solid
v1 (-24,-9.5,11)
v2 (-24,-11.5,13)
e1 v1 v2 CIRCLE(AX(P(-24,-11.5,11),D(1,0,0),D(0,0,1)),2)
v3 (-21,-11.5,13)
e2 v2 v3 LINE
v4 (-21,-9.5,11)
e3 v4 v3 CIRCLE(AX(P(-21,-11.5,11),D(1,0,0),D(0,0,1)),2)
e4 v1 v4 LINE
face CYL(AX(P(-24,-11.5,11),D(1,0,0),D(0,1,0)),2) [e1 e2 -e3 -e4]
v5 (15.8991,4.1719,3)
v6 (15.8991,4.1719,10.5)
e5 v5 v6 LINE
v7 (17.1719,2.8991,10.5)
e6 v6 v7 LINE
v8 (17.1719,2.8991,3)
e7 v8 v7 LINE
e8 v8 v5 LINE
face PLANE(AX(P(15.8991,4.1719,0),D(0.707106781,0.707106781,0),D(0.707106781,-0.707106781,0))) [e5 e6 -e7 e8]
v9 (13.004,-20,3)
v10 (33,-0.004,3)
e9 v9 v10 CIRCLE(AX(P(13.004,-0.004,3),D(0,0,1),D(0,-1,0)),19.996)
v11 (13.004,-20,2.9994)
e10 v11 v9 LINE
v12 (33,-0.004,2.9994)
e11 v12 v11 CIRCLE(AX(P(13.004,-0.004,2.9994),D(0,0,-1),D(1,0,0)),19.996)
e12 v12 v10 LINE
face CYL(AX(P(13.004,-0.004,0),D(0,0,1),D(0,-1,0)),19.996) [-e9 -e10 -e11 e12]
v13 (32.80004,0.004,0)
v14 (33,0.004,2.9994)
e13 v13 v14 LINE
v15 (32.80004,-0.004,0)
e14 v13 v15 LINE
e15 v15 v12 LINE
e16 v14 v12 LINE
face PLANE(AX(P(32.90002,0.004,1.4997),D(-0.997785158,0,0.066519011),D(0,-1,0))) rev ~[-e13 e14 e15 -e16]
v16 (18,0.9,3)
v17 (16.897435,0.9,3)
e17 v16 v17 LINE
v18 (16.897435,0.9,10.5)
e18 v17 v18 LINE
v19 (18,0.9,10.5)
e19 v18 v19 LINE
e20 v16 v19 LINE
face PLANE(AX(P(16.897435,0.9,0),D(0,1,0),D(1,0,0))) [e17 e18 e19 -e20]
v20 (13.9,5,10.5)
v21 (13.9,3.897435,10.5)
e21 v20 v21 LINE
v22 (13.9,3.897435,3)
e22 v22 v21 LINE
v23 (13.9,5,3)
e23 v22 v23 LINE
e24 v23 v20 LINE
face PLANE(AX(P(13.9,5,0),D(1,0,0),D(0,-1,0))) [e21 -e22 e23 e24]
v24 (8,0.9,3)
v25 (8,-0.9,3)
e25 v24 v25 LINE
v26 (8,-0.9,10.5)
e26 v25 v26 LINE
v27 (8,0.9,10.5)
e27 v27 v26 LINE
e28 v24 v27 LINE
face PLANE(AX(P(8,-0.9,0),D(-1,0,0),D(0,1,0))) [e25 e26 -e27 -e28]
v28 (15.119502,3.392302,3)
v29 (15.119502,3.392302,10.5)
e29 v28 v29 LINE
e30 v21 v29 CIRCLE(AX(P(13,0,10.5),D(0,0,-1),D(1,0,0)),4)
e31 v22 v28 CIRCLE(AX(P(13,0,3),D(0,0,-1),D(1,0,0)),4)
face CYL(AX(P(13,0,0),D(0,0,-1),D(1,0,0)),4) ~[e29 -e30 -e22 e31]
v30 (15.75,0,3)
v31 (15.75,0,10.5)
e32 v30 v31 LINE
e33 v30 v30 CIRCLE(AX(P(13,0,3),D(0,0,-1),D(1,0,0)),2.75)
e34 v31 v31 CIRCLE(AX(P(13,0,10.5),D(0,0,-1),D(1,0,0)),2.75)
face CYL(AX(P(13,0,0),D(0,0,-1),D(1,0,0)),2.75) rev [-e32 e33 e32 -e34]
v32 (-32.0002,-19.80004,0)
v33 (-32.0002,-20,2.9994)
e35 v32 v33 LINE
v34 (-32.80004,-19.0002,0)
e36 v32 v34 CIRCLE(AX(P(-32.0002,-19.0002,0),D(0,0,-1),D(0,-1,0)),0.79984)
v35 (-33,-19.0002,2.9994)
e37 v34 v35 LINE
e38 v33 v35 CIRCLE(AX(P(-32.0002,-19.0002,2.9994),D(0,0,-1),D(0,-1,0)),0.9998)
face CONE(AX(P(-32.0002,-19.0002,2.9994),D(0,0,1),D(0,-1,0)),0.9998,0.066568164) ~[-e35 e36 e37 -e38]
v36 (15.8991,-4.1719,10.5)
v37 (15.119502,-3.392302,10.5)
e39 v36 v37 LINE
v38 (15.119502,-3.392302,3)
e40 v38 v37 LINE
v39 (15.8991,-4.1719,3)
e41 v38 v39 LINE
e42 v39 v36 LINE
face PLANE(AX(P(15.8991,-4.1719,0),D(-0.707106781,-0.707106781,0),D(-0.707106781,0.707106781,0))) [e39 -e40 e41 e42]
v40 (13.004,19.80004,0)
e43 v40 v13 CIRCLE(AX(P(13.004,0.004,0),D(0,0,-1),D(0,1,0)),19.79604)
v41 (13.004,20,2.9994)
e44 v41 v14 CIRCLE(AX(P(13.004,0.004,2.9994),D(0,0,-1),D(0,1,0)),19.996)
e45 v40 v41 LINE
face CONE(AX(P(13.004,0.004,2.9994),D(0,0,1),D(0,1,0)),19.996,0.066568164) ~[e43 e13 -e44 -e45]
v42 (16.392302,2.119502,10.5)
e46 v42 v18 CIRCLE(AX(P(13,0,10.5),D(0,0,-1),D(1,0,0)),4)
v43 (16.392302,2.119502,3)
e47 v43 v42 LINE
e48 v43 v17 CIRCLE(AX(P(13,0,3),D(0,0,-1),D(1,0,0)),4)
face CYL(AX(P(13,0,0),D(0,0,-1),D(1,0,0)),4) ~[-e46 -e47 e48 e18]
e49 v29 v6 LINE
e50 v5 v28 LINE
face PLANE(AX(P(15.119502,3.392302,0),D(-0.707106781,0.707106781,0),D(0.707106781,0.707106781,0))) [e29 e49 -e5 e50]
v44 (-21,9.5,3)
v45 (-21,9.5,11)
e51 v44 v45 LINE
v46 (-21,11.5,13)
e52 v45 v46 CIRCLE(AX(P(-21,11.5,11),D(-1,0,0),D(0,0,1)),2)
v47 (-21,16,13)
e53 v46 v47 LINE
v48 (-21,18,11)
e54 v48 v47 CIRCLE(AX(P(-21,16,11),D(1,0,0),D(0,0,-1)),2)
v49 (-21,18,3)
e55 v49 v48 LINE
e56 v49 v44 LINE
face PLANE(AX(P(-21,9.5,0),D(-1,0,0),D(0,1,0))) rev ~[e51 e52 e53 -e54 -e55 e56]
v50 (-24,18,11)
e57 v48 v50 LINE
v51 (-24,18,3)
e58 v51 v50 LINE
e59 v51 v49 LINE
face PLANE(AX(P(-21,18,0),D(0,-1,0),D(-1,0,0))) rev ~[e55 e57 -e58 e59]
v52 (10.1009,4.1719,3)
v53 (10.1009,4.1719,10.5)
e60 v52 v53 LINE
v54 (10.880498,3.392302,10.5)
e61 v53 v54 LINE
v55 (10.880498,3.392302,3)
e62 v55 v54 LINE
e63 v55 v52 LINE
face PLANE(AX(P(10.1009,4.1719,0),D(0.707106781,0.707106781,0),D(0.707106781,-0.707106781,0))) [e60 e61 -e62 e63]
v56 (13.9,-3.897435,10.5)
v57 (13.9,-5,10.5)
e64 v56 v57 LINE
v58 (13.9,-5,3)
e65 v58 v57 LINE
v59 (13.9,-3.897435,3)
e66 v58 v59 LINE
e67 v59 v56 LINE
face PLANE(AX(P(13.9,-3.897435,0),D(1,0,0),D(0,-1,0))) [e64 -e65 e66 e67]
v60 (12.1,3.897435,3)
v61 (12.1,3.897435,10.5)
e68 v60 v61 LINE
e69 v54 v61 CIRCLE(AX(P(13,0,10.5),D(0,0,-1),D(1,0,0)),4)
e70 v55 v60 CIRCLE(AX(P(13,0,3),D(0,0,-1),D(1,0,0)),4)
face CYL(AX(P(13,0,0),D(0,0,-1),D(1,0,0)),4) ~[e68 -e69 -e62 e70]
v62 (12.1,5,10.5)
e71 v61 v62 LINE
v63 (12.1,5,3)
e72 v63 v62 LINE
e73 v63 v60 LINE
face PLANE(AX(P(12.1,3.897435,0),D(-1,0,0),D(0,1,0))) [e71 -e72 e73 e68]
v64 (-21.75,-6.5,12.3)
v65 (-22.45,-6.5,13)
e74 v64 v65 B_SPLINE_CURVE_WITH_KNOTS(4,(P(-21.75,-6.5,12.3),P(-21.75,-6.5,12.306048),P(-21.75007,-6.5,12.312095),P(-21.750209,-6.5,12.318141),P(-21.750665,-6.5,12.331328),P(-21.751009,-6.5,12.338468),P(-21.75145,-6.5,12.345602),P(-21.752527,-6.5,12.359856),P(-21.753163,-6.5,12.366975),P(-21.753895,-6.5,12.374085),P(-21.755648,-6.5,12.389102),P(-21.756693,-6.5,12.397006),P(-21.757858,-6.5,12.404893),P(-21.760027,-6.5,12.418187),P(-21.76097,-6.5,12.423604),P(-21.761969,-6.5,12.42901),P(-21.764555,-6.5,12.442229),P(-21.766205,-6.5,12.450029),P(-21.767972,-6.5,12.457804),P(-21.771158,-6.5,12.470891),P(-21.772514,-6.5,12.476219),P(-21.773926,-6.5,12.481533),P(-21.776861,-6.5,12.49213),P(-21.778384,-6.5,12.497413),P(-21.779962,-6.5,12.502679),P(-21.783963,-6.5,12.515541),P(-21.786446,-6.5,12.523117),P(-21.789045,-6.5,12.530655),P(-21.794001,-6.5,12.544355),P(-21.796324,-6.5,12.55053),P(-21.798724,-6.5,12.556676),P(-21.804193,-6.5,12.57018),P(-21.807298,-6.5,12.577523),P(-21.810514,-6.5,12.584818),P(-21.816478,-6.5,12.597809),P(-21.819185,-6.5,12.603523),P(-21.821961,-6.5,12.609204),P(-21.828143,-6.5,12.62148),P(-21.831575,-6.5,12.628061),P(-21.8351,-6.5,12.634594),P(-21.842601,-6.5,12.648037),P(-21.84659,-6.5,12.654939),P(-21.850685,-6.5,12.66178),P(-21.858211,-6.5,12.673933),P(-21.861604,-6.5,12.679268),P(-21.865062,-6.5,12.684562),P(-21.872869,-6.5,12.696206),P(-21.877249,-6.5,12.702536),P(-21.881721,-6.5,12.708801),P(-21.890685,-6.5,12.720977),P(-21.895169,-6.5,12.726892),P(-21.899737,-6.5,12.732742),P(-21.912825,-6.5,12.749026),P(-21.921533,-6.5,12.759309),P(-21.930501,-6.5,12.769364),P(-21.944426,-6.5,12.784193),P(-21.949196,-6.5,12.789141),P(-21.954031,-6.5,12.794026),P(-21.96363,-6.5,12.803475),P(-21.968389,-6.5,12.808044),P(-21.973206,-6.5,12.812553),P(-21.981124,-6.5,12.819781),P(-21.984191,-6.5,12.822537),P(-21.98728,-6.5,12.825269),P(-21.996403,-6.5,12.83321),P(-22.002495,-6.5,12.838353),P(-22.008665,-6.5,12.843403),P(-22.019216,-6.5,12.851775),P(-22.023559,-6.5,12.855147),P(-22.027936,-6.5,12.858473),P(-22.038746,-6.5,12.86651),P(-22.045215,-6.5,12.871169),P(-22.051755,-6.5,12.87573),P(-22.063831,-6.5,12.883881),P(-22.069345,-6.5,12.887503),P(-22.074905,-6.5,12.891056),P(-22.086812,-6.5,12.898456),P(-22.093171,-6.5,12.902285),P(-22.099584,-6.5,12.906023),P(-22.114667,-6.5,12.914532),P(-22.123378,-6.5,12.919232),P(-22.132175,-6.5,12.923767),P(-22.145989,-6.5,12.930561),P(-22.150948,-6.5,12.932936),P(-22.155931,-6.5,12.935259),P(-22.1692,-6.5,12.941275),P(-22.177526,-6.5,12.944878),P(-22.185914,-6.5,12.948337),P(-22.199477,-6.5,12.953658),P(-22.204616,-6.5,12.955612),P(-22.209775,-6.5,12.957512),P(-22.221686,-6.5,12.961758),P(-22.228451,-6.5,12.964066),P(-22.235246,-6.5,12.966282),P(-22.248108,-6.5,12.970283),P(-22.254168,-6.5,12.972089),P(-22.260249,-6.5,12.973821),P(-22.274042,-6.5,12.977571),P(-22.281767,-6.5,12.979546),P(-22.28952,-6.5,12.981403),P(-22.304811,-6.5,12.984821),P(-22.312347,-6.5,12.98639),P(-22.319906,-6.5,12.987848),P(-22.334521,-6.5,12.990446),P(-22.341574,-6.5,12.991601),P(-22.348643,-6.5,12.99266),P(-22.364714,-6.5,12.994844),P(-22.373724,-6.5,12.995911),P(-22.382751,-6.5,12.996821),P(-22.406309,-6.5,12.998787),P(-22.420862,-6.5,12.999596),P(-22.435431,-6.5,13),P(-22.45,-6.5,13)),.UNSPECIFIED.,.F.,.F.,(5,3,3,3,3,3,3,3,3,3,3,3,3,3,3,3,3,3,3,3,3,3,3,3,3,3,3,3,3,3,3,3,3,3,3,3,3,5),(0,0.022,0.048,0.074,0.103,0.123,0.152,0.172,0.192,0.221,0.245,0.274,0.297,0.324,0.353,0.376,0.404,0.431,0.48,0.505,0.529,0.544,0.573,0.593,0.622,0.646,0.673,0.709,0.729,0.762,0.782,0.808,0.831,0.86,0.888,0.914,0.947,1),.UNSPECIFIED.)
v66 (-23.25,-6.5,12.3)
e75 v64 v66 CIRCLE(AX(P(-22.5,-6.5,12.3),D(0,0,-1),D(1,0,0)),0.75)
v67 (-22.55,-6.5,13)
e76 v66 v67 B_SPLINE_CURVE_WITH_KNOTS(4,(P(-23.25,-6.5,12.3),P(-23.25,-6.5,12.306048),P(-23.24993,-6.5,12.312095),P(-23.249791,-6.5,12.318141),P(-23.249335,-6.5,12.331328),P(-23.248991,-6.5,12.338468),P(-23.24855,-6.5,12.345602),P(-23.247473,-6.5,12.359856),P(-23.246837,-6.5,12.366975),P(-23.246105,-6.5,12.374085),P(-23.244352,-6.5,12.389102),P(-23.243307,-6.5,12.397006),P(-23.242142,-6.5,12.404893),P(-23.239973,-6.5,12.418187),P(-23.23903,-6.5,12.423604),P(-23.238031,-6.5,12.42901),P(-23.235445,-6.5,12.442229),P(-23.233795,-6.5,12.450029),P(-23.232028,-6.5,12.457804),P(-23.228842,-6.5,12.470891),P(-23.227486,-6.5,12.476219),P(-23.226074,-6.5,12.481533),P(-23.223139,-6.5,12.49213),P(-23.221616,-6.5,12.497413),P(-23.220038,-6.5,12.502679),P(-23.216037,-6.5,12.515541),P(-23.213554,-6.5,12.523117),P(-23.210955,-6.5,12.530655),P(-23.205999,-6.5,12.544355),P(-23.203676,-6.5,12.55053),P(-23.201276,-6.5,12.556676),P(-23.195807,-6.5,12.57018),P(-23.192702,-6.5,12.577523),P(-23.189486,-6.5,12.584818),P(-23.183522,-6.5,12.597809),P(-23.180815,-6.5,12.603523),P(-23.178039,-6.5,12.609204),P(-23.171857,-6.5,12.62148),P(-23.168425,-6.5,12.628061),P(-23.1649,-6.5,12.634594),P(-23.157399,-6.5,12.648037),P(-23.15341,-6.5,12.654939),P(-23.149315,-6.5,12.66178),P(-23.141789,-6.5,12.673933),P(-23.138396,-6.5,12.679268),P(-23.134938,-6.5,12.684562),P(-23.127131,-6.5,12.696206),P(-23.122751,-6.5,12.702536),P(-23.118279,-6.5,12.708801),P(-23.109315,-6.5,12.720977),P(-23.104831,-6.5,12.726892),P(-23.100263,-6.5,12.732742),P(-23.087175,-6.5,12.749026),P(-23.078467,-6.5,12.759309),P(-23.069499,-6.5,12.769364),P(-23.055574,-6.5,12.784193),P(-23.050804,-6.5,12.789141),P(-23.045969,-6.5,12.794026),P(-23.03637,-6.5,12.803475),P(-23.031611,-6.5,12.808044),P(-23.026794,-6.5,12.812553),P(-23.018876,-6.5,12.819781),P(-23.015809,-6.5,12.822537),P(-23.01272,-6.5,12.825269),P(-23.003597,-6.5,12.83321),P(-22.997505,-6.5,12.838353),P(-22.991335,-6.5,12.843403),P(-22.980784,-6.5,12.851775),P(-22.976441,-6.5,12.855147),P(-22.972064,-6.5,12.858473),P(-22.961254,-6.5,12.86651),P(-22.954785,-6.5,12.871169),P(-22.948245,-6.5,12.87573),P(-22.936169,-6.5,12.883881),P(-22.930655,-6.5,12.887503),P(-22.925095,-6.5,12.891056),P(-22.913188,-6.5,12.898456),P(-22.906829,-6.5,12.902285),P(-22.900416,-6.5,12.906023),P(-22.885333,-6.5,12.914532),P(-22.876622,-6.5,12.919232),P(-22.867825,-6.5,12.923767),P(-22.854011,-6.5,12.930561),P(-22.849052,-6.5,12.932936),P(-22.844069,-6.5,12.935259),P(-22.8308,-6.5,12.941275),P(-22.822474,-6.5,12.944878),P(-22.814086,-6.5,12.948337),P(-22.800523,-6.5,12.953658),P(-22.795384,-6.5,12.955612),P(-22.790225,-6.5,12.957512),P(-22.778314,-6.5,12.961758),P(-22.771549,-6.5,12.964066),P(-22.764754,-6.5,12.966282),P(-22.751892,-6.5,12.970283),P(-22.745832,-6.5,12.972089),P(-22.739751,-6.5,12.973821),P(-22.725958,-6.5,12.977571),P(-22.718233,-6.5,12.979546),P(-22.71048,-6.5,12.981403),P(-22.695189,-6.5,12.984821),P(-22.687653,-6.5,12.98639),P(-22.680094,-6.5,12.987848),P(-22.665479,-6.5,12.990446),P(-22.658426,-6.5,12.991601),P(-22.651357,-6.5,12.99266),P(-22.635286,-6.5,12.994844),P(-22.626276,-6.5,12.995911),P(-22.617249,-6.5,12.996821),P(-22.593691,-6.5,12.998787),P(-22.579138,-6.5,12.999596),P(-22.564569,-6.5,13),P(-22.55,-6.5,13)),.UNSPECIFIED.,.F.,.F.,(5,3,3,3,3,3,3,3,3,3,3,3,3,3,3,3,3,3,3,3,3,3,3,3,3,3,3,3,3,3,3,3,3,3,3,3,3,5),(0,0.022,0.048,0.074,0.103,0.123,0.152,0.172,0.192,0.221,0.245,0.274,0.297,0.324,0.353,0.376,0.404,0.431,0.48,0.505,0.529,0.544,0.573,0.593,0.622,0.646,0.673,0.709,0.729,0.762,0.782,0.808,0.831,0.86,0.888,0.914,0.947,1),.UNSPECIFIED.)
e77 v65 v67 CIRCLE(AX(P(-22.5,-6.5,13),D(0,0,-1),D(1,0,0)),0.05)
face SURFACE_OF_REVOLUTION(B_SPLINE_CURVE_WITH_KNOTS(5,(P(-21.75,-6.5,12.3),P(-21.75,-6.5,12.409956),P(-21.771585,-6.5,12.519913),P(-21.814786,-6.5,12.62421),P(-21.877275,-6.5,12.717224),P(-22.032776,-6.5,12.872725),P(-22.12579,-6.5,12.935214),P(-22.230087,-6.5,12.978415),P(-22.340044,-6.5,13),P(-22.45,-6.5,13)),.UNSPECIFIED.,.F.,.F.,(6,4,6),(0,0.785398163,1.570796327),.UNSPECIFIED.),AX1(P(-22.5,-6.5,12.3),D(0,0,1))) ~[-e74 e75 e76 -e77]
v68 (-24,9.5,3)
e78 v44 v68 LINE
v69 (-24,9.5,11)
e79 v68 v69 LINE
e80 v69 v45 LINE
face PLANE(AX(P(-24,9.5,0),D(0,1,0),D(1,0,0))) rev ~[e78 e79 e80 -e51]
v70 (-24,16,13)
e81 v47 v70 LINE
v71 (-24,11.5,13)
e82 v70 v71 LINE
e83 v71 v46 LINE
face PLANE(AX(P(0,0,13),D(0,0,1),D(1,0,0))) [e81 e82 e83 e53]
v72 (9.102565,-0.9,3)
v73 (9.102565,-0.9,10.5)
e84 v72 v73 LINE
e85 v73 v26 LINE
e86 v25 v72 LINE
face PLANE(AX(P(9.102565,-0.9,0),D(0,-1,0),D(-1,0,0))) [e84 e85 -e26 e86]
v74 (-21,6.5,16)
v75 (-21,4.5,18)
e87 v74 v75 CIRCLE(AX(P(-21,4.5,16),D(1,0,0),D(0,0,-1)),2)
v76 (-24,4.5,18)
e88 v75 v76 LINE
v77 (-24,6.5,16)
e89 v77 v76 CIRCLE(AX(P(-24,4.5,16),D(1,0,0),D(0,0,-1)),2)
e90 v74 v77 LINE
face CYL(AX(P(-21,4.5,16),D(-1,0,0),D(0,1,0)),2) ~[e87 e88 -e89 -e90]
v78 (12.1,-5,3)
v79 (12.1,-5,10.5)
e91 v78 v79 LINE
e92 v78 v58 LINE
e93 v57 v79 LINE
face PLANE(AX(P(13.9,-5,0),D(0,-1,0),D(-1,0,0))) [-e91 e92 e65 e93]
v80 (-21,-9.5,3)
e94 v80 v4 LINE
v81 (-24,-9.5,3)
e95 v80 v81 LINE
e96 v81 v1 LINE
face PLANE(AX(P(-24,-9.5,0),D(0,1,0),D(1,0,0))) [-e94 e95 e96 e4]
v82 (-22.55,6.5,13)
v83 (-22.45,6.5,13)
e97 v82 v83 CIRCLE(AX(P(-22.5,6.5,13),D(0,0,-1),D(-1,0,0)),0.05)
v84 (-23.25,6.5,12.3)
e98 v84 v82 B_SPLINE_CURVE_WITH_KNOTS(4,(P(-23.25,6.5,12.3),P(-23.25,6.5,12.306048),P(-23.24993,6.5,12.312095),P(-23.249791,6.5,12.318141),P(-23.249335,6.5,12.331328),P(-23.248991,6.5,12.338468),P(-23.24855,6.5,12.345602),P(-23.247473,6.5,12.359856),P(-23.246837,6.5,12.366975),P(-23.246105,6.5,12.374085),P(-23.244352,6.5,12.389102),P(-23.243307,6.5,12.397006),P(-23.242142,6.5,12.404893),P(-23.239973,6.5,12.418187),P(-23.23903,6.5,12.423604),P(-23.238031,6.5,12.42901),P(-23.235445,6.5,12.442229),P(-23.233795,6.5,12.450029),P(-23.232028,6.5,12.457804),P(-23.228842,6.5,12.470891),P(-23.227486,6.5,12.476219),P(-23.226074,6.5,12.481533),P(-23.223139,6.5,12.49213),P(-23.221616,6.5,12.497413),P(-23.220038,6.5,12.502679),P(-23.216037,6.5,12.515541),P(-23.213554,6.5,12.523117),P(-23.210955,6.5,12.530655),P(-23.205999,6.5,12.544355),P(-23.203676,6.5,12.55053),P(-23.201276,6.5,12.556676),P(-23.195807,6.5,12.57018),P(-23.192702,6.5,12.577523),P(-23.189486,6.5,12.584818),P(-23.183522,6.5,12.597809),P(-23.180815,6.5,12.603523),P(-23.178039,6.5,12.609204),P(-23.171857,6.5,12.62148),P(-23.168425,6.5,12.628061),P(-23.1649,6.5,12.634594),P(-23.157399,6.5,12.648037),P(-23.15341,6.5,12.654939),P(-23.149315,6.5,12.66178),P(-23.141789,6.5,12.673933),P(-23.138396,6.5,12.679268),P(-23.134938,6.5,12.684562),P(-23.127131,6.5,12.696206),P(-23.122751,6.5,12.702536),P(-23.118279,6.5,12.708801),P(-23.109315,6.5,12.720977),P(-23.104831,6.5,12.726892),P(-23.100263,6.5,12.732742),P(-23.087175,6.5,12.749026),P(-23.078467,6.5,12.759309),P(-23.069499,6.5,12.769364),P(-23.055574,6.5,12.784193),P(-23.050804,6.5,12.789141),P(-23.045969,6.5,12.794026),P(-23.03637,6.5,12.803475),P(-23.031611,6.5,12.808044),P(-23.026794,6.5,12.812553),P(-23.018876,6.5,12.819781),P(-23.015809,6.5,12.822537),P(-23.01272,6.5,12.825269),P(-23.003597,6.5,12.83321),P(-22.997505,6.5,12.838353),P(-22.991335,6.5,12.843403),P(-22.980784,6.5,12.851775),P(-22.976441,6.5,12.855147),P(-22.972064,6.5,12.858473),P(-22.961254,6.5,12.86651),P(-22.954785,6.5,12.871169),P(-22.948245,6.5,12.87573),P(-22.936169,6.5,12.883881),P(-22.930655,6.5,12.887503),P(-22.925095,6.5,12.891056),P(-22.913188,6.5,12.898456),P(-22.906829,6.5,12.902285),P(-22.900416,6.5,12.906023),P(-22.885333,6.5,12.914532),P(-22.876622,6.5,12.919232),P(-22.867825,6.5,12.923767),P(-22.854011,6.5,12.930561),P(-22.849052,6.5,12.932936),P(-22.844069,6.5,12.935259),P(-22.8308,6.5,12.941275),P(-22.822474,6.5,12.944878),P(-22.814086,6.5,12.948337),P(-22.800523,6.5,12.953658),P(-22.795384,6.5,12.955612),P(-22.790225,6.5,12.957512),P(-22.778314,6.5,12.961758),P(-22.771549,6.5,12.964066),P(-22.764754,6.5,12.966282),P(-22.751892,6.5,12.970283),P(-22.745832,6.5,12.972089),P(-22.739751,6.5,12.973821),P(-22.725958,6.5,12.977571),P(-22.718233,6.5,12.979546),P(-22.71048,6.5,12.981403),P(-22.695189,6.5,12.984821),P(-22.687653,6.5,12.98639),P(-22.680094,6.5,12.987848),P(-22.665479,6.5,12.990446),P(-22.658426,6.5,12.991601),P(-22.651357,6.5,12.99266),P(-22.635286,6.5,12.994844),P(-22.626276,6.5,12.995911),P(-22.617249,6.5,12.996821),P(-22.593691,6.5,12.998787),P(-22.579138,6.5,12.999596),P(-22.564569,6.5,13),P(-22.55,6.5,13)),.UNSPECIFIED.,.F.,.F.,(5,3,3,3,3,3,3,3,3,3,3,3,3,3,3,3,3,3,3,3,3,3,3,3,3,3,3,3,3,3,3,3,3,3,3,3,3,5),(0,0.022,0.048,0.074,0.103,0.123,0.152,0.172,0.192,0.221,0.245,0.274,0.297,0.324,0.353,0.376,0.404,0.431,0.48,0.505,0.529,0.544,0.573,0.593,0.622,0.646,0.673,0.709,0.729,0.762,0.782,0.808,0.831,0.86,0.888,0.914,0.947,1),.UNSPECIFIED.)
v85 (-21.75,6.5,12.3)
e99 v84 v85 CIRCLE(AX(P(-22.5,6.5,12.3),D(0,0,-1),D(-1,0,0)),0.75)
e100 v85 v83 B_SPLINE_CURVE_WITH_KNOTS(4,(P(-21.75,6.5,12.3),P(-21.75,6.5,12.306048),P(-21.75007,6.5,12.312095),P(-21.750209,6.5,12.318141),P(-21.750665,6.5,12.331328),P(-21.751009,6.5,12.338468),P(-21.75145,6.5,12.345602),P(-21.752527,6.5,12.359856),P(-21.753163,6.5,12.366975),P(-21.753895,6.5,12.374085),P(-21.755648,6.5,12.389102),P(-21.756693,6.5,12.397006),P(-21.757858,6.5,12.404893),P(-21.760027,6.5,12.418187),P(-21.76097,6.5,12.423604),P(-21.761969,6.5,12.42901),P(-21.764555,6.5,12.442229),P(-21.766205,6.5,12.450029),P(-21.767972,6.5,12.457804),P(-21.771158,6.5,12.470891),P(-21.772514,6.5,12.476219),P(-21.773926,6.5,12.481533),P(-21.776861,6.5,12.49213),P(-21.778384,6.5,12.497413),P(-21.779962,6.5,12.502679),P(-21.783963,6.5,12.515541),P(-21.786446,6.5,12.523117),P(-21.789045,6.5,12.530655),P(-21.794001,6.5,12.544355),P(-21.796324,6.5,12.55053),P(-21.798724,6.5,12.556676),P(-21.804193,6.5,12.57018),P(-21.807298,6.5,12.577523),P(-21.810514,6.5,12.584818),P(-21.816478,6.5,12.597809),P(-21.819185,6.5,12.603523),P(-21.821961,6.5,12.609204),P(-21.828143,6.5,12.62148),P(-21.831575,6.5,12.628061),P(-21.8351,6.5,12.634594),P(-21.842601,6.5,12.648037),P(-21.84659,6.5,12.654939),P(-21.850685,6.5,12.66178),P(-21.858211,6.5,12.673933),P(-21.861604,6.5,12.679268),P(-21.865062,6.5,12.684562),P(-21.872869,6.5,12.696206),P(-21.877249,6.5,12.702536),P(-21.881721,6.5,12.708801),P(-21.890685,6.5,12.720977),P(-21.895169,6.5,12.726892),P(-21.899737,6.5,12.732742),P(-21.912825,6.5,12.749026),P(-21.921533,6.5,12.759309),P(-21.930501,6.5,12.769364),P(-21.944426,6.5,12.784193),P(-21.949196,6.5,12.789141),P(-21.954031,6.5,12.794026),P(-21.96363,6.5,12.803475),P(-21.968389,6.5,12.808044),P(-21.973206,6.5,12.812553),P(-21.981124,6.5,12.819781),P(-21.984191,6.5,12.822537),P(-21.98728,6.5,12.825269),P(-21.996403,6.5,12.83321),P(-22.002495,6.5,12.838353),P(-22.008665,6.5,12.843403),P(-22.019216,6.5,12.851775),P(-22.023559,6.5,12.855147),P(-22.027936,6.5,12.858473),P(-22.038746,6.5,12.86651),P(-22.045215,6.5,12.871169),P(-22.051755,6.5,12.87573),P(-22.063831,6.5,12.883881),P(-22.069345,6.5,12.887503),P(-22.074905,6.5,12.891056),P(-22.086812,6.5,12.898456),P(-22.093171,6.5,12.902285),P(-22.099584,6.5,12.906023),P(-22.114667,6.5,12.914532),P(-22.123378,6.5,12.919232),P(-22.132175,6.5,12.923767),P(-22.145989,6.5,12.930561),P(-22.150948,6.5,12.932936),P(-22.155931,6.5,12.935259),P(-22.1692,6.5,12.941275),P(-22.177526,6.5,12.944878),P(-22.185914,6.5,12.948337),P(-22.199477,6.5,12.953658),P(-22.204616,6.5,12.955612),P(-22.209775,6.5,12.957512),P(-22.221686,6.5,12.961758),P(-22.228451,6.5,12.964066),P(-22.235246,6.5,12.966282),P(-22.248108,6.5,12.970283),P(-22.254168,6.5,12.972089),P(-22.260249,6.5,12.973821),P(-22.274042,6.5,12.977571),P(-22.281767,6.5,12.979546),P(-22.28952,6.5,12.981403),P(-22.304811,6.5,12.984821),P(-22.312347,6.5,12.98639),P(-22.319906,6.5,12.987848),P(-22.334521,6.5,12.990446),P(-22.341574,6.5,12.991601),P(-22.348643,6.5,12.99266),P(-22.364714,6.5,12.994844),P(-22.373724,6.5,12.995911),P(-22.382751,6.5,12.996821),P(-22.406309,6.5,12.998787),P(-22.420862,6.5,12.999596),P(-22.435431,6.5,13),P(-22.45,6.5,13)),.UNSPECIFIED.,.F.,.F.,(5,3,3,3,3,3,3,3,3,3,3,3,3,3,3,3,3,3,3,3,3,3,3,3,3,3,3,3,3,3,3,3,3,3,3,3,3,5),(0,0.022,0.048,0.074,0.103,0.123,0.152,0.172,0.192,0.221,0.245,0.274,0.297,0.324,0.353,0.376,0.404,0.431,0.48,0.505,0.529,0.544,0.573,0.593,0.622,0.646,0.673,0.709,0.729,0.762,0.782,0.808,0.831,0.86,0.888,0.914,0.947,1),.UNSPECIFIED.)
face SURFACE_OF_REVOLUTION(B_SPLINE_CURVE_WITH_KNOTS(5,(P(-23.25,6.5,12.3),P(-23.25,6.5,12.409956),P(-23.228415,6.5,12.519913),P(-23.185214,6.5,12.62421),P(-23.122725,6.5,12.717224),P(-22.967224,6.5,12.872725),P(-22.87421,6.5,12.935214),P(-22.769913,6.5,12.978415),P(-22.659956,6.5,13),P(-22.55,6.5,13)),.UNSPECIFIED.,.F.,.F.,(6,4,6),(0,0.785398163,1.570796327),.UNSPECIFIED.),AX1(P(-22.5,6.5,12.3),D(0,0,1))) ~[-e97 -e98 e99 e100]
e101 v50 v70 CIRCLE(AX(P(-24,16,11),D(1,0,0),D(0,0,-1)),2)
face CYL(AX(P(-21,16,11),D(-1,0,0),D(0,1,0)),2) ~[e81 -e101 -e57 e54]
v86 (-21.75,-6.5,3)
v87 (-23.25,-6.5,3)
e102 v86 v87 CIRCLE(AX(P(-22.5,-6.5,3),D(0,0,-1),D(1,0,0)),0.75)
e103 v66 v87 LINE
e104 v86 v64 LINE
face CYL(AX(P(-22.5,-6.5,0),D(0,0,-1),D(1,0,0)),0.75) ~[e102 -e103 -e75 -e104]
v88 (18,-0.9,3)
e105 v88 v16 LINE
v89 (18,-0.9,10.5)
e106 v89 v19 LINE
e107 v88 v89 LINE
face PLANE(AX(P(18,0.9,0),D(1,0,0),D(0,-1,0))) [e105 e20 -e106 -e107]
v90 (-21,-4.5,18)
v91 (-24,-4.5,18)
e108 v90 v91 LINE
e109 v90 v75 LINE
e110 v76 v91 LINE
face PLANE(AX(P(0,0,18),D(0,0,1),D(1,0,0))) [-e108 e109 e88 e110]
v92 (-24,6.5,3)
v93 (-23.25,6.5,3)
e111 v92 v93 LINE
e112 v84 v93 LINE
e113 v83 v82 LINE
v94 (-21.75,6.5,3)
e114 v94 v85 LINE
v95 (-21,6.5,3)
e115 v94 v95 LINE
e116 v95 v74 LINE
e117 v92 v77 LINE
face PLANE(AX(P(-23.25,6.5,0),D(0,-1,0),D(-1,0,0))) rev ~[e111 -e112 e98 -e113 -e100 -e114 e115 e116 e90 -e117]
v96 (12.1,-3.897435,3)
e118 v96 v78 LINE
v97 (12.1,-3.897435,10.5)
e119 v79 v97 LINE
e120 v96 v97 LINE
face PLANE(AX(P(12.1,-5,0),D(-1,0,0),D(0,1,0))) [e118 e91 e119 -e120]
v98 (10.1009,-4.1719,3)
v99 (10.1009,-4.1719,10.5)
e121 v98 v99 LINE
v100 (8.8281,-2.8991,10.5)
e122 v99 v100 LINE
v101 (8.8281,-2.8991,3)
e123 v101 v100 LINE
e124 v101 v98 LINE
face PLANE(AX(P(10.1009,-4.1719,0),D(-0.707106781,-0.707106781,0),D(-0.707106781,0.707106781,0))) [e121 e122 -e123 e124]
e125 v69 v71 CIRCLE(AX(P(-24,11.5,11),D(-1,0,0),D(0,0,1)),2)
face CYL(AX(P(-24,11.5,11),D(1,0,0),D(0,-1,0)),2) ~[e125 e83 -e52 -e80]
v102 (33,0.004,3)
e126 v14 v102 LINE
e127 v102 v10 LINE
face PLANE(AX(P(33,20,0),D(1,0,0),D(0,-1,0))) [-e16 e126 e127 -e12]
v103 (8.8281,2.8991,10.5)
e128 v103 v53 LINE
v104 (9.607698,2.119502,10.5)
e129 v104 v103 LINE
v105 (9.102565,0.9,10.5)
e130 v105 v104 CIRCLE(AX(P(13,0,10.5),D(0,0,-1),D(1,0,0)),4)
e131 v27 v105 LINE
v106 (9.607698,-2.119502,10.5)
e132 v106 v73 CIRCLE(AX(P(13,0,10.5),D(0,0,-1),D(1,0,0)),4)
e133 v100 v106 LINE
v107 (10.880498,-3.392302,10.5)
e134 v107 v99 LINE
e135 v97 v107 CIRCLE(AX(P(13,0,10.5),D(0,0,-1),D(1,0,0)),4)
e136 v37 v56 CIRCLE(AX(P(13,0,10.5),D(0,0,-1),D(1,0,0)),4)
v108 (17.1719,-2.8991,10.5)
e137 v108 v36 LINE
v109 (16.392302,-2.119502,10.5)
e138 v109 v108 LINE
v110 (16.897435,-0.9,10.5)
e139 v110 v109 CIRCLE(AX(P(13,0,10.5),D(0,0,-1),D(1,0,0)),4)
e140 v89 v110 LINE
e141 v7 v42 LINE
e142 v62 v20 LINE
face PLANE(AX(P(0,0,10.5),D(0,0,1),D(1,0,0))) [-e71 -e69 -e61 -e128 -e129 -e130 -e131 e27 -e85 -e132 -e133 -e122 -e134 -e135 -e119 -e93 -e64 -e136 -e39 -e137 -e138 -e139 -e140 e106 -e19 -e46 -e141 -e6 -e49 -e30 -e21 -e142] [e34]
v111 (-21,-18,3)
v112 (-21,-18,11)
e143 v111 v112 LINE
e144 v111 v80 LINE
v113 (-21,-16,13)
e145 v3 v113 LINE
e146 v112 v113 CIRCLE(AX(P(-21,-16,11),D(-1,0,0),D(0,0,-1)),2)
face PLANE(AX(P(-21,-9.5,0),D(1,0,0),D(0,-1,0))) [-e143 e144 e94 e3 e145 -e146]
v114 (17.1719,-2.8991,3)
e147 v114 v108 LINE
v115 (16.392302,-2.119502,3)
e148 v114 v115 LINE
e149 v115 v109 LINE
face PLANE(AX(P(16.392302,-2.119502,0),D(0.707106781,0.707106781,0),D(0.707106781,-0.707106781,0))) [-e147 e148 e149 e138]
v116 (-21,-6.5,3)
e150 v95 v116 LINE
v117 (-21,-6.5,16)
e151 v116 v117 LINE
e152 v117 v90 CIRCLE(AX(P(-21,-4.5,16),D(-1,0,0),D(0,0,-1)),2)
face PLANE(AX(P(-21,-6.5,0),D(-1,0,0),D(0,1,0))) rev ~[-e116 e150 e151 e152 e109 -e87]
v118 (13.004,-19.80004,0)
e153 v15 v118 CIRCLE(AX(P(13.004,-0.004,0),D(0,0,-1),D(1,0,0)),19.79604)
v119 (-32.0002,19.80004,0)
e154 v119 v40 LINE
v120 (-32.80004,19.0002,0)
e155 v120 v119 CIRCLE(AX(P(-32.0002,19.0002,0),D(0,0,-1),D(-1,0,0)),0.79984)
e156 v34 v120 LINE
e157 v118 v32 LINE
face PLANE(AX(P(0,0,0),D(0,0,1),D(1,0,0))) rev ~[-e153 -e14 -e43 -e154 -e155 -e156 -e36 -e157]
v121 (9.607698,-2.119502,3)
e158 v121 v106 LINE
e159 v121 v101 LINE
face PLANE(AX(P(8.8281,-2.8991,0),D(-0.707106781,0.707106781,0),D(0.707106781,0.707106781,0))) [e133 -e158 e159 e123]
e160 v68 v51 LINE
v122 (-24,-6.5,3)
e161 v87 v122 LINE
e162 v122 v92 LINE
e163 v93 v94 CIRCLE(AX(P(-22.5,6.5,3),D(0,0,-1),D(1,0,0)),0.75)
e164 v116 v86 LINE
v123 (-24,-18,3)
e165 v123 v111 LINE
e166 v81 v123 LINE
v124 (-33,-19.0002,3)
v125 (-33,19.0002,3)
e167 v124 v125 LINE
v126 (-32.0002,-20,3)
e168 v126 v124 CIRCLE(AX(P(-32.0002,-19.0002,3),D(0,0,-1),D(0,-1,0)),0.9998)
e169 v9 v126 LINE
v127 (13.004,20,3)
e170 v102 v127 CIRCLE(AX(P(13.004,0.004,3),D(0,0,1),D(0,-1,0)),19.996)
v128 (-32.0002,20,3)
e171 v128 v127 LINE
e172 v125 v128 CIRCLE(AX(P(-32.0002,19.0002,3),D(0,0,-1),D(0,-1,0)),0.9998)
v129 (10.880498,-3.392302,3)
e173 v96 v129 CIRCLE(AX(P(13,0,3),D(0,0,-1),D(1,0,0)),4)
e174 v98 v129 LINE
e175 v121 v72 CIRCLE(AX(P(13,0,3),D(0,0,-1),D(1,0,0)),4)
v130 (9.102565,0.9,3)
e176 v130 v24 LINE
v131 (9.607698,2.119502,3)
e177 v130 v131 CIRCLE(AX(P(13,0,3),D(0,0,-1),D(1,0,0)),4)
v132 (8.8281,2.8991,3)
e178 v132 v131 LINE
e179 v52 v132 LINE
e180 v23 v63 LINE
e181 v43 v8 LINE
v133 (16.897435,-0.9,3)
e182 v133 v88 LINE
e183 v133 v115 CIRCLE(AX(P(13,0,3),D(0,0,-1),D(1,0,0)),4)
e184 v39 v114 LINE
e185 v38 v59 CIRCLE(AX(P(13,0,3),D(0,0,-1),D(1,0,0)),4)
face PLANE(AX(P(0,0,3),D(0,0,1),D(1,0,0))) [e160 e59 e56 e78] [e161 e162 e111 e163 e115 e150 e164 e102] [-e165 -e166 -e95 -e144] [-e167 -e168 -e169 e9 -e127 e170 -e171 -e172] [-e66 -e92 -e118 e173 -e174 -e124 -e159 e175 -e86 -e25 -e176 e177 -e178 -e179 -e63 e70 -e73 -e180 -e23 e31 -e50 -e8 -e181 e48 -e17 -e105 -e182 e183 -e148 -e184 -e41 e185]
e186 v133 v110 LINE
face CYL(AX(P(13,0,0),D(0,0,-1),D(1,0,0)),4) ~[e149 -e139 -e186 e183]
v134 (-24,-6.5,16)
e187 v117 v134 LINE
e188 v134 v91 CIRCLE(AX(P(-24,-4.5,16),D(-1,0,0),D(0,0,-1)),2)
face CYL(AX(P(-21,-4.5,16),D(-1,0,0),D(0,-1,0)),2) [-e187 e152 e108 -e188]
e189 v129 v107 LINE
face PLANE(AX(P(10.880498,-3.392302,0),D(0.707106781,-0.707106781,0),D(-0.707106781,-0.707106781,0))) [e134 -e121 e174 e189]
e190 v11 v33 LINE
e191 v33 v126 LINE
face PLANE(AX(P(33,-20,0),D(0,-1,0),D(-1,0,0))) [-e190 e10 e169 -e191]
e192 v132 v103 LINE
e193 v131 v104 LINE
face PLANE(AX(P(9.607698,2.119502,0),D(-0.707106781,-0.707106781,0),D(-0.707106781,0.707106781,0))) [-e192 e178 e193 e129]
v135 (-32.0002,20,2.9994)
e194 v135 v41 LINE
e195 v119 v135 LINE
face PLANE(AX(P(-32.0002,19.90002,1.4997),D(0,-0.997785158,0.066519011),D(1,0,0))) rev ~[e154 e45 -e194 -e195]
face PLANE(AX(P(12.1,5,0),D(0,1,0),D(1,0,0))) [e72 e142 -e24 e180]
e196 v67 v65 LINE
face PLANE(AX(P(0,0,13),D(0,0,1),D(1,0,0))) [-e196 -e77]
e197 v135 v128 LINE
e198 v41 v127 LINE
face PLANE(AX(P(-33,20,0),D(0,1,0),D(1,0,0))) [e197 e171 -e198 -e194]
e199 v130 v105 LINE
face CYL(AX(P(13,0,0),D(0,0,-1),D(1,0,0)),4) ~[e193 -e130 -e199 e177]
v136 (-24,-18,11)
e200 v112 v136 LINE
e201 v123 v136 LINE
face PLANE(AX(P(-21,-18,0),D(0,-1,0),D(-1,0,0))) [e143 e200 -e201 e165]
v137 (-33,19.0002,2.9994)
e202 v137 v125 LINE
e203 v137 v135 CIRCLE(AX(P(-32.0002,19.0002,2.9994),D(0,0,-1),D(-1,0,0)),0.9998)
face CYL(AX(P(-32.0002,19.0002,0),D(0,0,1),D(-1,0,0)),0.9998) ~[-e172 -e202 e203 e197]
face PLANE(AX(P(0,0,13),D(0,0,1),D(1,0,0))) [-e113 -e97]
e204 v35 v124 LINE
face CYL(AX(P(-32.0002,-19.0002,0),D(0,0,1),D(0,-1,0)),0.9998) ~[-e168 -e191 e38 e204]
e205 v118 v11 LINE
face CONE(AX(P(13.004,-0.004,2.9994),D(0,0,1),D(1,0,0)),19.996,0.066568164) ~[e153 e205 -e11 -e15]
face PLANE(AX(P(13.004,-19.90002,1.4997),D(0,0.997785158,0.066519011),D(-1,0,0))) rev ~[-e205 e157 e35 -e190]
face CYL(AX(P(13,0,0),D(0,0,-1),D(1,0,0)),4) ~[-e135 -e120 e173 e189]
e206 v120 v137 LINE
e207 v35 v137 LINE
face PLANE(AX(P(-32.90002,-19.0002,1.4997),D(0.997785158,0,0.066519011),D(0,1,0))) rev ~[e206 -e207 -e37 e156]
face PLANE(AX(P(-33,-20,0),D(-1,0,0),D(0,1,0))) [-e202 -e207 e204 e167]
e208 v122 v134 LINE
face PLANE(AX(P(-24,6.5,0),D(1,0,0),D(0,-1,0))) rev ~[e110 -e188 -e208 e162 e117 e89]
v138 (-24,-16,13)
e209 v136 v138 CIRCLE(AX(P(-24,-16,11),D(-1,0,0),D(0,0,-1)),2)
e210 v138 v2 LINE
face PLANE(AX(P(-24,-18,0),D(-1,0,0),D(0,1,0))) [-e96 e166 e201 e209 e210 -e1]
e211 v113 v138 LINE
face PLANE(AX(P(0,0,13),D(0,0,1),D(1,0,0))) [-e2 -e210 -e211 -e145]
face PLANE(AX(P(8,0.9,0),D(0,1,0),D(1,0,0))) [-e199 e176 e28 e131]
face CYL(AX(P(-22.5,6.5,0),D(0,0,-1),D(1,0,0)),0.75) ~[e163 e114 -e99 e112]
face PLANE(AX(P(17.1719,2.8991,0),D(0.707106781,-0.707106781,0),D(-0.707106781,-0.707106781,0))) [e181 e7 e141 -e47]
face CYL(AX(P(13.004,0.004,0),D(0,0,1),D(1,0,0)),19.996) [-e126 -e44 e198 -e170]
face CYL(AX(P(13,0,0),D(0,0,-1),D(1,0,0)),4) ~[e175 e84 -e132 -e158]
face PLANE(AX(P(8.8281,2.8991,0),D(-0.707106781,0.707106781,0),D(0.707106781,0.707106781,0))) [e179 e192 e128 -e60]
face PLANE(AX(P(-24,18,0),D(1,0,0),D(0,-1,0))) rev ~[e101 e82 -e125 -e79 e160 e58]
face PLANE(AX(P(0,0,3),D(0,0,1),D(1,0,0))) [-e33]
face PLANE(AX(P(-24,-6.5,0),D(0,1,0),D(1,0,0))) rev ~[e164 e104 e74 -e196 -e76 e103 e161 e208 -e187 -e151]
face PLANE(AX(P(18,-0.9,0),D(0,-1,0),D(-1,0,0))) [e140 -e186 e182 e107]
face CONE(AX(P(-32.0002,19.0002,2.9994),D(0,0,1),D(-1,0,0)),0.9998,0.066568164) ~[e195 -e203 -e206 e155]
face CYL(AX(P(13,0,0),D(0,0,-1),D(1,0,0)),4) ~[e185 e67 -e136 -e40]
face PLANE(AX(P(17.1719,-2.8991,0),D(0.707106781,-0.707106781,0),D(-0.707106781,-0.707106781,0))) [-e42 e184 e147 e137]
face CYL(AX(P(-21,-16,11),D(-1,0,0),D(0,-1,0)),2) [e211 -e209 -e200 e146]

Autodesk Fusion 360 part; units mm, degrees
sketch "Sketch1" plane through (0, 0, 0) normal (0, 0, 1) x (1, 0, 0) in component "body"
  line L0 (33, -20) -> (-33, -20)
  line L1 (-33, -20) -> (-33, 20)
  line L2 (-33, 20) -> (33, 20)
  line L3 (33, 20) -> (33, -20)
  line L4 (33, -20) -> (-33, 20) construction
  line L5 (-33, -20) -> (33, 20) construction
  circle A0 centre (13, 0) radius 2.75
  line L6 (1.75, 0) -> (22.5, 0)
  circle A1 centre (13, 0) radius 4
  line L7 (18, -0.9) -> (8, -0.9)
  line L8 (8, -0.9) -> (8, 0.9)
  line L9 (8, 0.9) -> (18, 0.9)
  line L10 (18, 0.9) -> (18, -0.9)
  line L11 (18, -0.9) -> (8, 0.9) construction
  line L12 (8, -0.9) -> (18, 0.9) construction
  line L13 (17.1719, 2.8991) -> (10.1009, -4.1719)
  line L14 (15.8991, 4.1719) -> (17.1719, 2.8991)
  line L15 (8.8281, -2.8991) -> (15.8991, 4.1719)
  line L16 (10.1009, -4.1719) -> (8.8281, -2.8991)
  line L17 (13.9, 5) -> (13.9, -5)
  line L18 (12.1, 5) -> (13.9, 5)
  line L19 (12.1, -5) -> (12.1, 5)
  line L20 (13.9, -5) -> (12.1, -5)
  line L21 (10.1009, 4.1719) -> (17.1719, -2.8991)
  line L22 (8.8281, 2.8991) -> (10.1009, 4.1719)
  line L23 (15.8991, -4.1719) -> (8.8281, 2.8991)
  line L24 (17.1719, -2.8991) -> (15.8991, -4.1719)
  line L25 (-21, -18) -> (-24, -18)
  line L26 (-24, -18) -> (-24, -9.5)
  line L27 (-24, -9.5) -> (-21, -9.5)
  line L28 (-21, -9.5) -> (-21, -18)
  line L29 (-21, 9.5) -> (-21, 18)
  line L30 (-24, 9.5) -> (-21, 9.5)
  line L31 (-24, 18) -> (-24, 9.5)
  line L32 (-21, 18) -> (-24, 18)
  line L33 (-24, -6.5) -> (-21, -6.5)
  line L34 (-21, -6.5) -> (-21, 6.5)
  line L35 (-21, 6.5) -> (-24, 6.5)
  line L36 (-24, 6.5) -> (-24, -6.5)
  line L37 (-24, -6.5) -> (-21, 6.5) construction
  line L38 (-21, -6.5) -> (-24, 6.5) construction
  circle A2 centre (-22.5, 6.5) radius 0.75
  circle A3 centre (-22.5, -6.5) radius 0.75
  point P0 (13, 0)
  point P1 (-22.5, 0)
  dimension "d1" = 66
  dimension "d2" = 40
  dimension "d3" = 5.5
  dimension "d4" = 20
  dimension "d5" = 8
  dimension "d6" = 10
  dimension "d7" = 1.8
  dimension "d13" = 135
  dimension "d20" = 3
  dimension "d21" = 8.5
  dimension "d22" = 9
  dimension "d23" = 2
  dimension "d24" = 3
  dimension "d25" = 13
  dimension "d26" = 9
  dimension "d33" = 1.5
  dimension "d34" = 1.5
extrude "Extrude3" add sketch "Sketch1" along normal blind 3 contours L0 L1 L2 L3 | A0 L6 L9 L13 | A0 L6 A1 L7 | A0 L6 A1 L9 | A0 L6 L7 L21 | A0 L9 L13 | A0 A1 L9 L13 | A0 A1 L7 L21 | A0 L7 L21 | L6 A1 L9 L10 | L6 A1 L7 L10 | L6 L13 L17 | L9 L13 L17 L21 | L7 L13 L17 L21 | L6 L17 L21 | A0 L9 L13 L15 L17 | A0 A1 L13 L15 | A0 A1 L21 L23 | A0 L7 L17 L21 L23 | L6 L7 L13 L17 L19 L23 | L6 L9 L15 L17 L19 L21 | L7 L13 L17 | L9 L17 L21 | A0 L15 L17 | A0 A1 L15 L17 | A1 L13 L14 L15 | L9 L15 L17 L21 | A0 A1 L17 L23 | A0 L17 L23 | A1 L21 L23 L24 | L7 L13 L17 L23 | L6 L19 L23 | L6 L15 L19 | L7 L13 L23 | L9 L15 L21 | A0 L15 L17 L19 L21 | A0 A1 L17 L19 | A0 A1 L17 L19 | A0 L13 L17 L19 L23 | A0 L6 L7 L15 | L7 L15 L19 L23 | L9 L15 L19 L23 | A0 L6 L9 L23 | L7 L19 L23 | L9 L15 L19 | L7 L13 L19 L23 | L9 L15 L19 L21 | A0 L19 L21 | A0 A1 L19 L21 | A1 L17 L18 L19 | A0 A1 L13 L19 | A0 L13 L19 | A1 L17 L19 L20 | A0 L6 A1 L9 | A0 L6 A1 L7 | A0 L7 L15 | A0 L7 L13 L15 L19 | A0 L9 L19 L21 L23 | A0 L9 L23 | A0 A1 L21 L23 | A0 A1 L13 L15 | A0 A1 L9 L23 | A0 A1 L7 L15 | L6 A1 L7 L8 | L6 A1 L8 L9 | A1 L21 L22 L23 | A1 L13 L15 L16 | L25 L26 L27 L28 | L29 L30 L31 L32 | L33 L34 L35 L36 A2 A3 | L33 A3 | L33 A3 | L35 A2 | L35 A2 makes body 1 in component "body"
extrude "Extrude1" add sketch "Sketch1" along normal blind 10.5 separate body contours A0 L6 A1 L7 | A0 L6 A1 L9 | A0 A1 L9 L13 | A0 A1 L7 L21 | A0 A1 L13 L15 | A0 A1 L21 L23 | A0 A1 L15 L17 | A0 A1 L17 L23 | A0 A1 L17 L19 | A0 A1 L17 L19 | A0 A1 L19 L21 | A0 A1 L13 L19 | A0 L6 A1 L9 | A0 L6 A1 L7 | A0 A1 L21 L23 | A0 A1 L13 L15 | A0 A1 L9 L23 | A0 A1 L7 L15 makes body 2 in component "body"
extrude "Extrude2" add sketch "Sketch1" along normal blind 10.5 contours L6 A1 L9 L10 | L6 A1 L7 L10 | A1 L13 L14 L15 | A1 L21 L23 L24 | A1 L17 L18 L19 | A1 L17 L19 L20 | L6 A1 L7 L8 | L6 A1 L8 L9 | A1 L21 L22 L23 | A1 L13 L15 L16 bodies 2 1 in component "body"
fillet "Fillet1" radius 20 2 edges at (33, -20, 1.5) (33, 20, 1.5) on bodies 2 in component "body"
fillet "Fillet1" radius 1 2 edges at (-33, -20, 1.5) (-33, 20, 1.5) on bodies 2 in component "body"
extrude "Extrude4" add sketch "Sketch1" along normal blind 13 contours L25 L26 L27 L28 | L29 L30 L31 L32 bodies 2 in component "body"
extrude "Extrude5" add sketch "Sketch1" along normal blind 18 contours L33 L34 L35 L36 A2 A3 | L33 A3 | L35 A2 picked at (-22.3167, -6.33) picked at (-22.3854, 5.9564) bodies 2 in component "body"
extrude "Extrude6" add sketch "Sketch1" along normal blind 13 contours L33 A3 | L33 A3 | L35 A2 | L35 A2 bodies 2 in component "body"
fillet "Fillet2" radius 2 6 edges at (-22.5, 18, 13) (-22.5, 6.5, 18) (-22.5, -6.5, 18) (-22.5, -9.5, 13) (-22.5, -18, 13) (-22.5, 9.5, 13) on bodies 2 in component "body"
fillet "Fillet2" radius 0.7 2 edges at (-22.5, 7.25, 13) (-22.5, -7.25, 13) on bodies 2 in component "body"
chamfer "Chamfer1" distance 0.2 distance2 3 6 edges at (-9.5, 20, 0) (33, 0, 0) (-9.5, -20, 0) (-32.7071, -19.7071, 0) (-33, 0, 0) (-32.7071, 19.7071, 0) measured on face at (-1.9974, 6.6667, 0) measured on face at (33, 0.0013, 1) measured on face at (-1.9974, 6.6667, 0) measured on face at (-32.0952, -19.9955, 1) measured on face at (-1.9974, 6.6667, 0) measured on face at (-32.3718, 19.9284, 1) on bodies 2 in component "body"
component "body" placed x (1, 0, 0) y (0, 1, 0) z (0, 0, 1) at (0, 0, 0)
